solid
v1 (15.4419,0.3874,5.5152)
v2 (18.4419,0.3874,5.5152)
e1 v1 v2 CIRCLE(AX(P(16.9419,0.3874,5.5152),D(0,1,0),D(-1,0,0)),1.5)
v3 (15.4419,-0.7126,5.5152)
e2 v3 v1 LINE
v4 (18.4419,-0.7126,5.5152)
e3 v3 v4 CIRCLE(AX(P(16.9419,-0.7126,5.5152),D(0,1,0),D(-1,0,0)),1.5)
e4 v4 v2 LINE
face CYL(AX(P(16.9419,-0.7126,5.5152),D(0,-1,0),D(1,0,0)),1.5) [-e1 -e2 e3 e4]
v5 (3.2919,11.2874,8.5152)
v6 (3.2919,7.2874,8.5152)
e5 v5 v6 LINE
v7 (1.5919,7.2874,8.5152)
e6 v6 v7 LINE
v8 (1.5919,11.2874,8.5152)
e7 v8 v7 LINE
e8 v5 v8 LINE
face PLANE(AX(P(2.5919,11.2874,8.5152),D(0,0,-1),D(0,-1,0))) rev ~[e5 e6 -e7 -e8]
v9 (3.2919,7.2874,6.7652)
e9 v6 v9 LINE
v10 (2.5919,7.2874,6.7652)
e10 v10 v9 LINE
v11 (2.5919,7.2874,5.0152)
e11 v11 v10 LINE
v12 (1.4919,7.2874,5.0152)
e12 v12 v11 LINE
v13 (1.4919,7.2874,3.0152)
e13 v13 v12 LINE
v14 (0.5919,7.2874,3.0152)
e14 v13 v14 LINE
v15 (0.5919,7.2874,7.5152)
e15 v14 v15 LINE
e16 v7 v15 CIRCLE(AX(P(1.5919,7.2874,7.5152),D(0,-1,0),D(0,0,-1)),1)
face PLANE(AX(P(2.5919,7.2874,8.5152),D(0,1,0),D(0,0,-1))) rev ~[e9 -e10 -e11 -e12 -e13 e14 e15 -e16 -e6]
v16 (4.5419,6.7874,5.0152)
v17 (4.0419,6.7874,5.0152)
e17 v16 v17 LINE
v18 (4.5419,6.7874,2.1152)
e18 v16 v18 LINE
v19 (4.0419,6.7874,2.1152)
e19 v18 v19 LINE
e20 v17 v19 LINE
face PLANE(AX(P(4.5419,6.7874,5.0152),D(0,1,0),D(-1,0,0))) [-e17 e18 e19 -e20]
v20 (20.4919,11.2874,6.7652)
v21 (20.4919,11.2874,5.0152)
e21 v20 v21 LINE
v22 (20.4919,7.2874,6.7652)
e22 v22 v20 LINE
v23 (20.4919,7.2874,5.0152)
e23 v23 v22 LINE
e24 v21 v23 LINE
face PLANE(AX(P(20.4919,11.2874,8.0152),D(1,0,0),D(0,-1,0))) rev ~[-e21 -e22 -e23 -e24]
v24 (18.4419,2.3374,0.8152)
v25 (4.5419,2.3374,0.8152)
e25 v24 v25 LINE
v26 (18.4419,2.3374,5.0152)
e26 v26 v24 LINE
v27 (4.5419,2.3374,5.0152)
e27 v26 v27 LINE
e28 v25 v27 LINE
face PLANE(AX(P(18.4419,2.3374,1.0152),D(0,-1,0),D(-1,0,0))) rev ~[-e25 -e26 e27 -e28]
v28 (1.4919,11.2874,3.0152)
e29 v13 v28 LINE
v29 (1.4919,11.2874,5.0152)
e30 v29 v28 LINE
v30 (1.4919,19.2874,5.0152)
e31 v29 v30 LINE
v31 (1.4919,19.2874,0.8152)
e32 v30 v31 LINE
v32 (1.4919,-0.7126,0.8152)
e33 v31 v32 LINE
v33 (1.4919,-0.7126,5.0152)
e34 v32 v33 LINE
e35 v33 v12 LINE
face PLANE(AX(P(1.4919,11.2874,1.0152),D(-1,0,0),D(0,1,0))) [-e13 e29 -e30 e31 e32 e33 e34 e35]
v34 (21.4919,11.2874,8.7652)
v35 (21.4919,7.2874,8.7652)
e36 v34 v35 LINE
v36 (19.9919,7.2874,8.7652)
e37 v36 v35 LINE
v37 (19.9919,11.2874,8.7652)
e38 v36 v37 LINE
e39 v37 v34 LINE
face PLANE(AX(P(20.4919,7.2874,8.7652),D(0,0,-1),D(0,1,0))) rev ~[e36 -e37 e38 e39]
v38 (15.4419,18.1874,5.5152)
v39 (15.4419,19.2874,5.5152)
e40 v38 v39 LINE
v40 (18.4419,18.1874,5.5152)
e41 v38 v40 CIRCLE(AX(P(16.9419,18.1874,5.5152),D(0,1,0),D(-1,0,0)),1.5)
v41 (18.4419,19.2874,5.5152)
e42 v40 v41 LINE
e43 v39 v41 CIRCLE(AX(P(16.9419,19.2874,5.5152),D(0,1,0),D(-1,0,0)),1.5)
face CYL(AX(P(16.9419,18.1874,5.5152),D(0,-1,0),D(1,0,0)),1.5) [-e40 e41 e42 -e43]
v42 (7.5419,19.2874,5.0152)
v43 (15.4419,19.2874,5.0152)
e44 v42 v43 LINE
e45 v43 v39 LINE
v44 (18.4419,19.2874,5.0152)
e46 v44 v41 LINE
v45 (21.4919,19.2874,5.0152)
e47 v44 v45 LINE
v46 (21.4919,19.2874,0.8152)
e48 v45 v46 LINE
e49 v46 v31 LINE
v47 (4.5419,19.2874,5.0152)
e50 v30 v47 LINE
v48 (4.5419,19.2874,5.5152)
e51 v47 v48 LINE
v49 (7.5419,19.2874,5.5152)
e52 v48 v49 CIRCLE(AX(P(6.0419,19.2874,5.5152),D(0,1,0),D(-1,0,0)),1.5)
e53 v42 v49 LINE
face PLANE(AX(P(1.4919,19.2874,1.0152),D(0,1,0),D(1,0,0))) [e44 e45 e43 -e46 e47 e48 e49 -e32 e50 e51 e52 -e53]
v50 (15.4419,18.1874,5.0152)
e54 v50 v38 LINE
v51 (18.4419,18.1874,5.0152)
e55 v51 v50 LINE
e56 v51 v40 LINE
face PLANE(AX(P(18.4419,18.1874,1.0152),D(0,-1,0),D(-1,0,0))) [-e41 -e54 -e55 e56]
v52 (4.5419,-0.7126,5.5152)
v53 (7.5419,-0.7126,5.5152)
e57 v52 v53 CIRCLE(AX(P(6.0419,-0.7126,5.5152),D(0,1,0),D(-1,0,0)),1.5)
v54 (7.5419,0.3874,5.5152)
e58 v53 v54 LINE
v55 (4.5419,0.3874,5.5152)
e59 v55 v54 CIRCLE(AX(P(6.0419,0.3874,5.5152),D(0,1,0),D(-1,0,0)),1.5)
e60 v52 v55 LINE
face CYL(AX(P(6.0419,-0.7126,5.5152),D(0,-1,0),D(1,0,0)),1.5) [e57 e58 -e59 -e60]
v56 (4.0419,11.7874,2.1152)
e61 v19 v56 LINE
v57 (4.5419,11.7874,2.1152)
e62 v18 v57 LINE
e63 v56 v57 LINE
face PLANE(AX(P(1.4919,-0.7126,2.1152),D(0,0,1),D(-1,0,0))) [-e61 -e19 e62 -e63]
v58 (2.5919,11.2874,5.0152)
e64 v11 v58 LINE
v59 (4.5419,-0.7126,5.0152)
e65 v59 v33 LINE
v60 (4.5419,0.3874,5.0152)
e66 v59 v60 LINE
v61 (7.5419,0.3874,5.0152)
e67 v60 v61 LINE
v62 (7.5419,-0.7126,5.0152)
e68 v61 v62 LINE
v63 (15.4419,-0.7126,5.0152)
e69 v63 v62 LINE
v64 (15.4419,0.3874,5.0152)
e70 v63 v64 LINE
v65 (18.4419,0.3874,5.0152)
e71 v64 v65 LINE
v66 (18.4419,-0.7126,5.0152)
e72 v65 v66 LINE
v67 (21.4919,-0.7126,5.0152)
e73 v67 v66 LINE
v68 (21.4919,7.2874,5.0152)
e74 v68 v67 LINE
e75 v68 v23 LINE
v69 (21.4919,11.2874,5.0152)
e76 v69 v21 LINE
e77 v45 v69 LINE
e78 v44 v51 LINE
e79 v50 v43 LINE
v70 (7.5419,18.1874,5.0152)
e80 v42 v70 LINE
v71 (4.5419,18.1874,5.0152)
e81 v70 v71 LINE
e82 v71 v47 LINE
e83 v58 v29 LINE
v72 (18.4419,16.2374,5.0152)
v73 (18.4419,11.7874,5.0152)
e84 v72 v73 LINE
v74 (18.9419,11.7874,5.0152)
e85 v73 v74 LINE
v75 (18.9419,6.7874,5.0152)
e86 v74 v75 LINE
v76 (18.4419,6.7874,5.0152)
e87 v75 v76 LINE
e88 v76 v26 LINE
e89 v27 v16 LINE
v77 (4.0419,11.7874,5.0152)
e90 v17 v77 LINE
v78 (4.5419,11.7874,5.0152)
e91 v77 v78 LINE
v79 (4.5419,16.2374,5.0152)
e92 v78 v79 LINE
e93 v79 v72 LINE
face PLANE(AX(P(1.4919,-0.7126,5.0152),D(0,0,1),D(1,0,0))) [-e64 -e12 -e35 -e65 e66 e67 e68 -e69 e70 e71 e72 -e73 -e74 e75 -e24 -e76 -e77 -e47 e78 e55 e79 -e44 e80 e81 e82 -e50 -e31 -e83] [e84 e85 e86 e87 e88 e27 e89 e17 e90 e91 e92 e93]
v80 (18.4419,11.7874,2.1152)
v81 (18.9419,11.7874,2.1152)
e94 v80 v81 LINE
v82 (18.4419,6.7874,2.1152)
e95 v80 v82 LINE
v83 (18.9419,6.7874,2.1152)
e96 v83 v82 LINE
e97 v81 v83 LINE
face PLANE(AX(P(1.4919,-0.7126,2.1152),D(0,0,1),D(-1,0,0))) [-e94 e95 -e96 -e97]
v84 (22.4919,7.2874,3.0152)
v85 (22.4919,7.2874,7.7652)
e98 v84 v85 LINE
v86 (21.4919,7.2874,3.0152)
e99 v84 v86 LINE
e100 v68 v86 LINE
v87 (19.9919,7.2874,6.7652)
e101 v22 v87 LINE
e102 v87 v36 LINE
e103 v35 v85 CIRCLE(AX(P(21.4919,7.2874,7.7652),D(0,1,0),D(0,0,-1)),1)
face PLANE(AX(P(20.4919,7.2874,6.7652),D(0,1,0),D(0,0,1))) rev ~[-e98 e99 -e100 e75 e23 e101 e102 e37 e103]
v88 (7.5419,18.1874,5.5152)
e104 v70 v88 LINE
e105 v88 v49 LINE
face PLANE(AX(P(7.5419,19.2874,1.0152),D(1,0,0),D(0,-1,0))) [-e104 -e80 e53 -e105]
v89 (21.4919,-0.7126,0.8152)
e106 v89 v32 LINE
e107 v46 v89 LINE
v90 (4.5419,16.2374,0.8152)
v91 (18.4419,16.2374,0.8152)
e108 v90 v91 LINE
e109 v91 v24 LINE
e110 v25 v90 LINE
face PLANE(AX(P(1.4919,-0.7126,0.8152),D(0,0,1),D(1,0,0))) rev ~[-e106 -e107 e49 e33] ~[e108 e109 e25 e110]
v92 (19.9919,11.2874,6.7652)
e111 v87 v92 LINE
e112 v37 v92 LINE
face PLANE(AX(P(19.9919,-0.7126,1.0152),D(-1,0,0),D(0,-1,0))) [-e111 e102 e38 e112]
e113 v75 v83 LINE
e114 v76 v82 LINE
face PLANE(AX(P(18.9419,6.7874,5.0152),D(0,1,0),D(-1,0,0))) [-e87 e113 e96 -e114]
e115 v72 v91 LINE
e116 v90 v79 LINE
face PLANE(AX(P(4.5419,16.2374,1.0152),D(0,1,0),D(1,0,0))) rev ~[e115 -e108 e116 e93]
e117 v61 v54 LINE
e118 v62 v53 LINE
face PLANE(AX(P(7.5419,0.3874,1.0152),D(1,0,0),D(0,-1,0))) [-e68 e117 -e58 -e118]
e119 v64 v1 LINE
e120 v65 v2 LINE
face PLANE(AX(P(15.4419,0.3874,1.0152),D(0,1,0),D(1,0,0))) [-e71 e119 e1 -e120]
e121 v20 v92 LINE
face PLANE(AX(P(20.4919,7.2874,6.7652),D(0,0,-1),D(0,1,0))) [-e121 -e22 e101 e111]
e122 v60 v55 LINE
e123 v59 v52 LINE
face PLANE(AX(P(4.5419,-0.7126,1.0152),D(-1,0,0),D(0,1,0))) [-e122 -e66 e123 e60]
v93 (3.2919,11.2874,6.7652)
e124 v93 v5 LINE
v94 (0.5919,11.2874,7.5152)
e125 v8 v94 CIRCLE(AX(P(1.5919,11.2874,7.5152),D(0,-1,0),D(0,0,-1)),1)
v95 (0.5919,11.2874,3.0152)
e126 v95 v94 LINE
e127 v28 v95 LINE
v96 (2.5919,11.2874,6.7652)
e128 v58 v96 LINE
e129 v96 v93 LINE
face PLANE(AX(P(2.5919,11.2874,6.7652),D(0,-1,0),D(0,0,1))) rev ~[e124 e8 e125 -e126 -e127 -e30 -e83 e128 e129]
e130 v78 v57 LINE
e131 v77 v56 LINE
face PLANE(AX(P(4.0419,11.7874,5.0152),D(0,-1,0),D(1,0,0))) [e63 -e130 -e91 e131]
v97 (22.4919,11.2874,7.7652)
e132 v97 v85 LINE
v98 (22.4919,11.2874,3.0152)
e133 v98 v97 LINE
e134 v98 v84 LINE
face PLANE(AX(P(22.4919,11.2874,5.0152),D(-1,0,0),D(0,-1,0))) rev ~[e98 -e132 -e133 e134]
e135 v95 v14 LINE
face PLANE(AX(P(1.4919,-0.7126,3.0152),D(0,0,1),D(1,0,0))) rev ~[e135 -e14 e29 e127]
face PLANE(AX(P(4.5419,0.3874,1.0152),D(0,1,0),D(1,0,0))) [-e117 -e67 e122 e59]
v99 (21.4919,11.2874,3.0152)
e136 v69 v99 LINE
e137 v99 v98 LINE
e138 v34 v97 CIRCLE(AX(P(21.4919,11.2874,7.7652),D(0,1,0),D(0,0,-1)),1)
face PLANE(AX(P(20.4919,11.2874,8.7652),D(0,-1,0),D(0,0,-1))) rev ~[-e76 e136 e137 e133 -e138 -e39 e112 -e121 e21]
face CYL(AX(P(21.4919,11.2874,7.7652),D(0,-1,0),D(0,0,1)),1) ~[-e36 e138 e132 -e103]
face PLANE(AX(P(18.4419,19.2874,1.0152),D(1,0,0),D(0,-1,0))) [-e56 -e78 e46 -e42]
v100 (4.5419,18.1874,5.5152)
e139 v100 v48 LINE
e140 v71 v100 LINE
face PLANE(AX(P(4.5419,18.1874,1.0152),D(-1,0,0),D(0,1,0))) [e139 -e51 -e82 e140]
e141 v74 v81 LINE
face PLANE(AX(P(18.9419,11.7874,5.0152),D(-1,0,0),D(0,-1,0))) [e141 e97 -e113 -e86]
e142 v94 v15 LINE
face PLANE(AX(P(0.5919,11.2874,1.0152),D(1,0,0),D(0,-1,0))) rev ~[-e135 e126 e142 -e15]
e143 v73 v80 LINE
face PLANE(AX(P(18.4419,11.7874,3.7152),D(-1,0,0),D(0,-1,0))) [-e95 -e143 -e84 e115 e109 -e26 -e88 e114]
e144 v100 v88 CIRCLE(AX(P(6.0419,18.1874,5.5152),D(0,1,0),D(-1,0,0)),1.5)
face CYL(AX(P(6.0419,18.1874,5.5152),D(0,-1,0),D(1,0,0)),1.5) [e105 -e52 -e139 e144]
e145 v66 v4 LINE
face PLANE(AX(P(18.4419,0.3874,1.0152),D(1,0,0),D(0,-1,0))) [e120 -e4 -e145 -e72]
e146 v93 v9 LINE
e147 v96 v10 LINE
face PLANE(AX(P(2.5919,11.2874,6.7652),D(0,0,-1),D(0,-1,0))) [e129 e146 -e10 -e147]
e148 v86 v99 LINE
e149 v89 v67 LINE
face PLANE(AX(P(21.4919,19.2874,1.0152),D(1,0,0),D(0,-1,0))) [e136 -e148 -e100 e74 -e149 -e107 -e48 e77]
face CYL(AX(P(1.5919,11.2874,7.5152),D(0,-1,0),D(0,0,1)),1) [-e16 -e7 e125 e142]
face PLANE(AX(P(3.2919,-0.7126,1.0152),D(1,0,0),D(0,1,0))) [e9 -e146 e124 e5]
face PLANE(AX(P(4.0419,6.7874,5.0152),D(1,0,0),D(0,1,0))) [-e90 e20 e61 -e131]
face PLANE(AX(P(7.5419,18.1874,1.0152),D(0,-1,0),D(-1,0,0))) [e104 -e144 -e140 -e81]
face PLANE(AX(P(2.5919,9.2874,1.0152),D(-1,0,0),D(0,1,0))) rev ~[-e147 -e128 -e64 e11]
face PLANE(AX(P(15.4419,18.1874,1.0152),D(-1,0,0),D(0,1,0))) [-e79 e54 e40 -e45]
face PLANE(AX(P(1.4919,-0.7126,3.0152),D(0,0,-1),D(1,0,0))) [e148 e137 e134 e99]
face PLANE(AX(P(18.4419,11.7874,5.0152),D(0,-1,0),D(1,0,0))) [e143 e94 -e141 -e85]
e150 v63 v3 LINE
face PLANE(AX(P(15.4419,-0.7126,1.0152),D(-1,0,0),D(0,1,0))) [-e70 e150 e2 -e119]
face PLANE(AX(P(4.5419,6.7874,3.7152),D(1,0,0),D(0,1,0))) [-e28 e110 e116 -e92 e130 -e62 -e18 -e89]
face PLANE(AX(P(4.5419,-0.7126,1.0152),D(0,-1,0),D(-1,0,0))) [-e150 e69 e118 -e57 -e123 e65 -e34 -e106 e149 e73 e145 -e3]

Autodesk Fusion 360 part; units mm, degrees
sketch "Sketch1" plane through (0, 0, 0) normal (0, 0, 1) x (1, 0, 0) in component "main-switchbody"
  line L0 (0, 0) -> (0, 20) construction
  line L1 (0, 20) -> (20, 20) construction
  line L2 (20, 20) -> (20, 0) construction
  line L3 (20, 0) -> (0, 0) construction
  line L4 (0, 0) -> (20, 20) construction
  line L5 (20, 0) -> (0, 20) construction
  line L6 (10, 0) -> (18.9, 0) construction
  line L7 (10, 10) -> (18.9, 10) construction
  line L8 (18.9, 10) -> (18.9, 18.9) construction
  line L9 (18.9, 18.9) -> (1.1, 18.9) construction
  line L10 (1.1, 18.9) -> (1.1, 1.1) construction
  line L11 (1.1, 1.1) -> (18.9, 1.1) construction
  line L12 (18.9, 1.1) -> (18.9, 18.9) construction
  line L13 (10, 10) -> (3.05, 10) construction
  line L14 (3.05, 10) -> (3.05, 16.95) construction
  line L15 (3.05, 16.95) -> (16.95, 16.95) construction
  line L16 (16.95, 16.95) -> (16.95, 3.05) construction
  line L17 (16.95, 3.05) -> (3.05, 3.05) construction
  line L18 (3.05, 3.05) -> (3.05, 16.95) construction
  line L19 (3.05, 3.05) -> (0, 3.05) construction
  line L20 (3.05, 3.05) -> (3.05, 0) construction
  line L21 (16.95, 3.05) -> (20, 3.05) construction
  line L22 (16.95, 16.95) -> (20, 16.95) construction
  line L23 (16.95, 16.95) -> (16.95, 20) construction
  line L24 (3.05, 16.95) -> (3.05, 20) construction
  line L25 (3.05, 16.95) -> (0, 16.95) construction
  line L26 (3.05, 18.9) -> (6.05, 18.9) construction
  line L27 (6.05, 18.9) -> (6.05, 20) construction
  line L28 (16.95, 18.9) -> (13.95, 18.9) construction
  line L29 (13.95, 18.9) -> (13.95, 20) construction
  line L30 (16.95, 3.05) -> (16.95, 0) construction
  line L31 (16.95, 1.1) -> (13.95, 1.1) construction
  line L32 (13.95, 1.1) -> (13.95, 0) construction
  line L33 (3.05, 1.1) -> (6.05, 1.1) construction
  line L34 (6.05, 1.1) -> (6.05, 0) construction
  line L35 (0, 20) -> (20, 20) construction
  line L36 (20, 20) -> (20, 0) construction
  line L37 (20, 0) -> (0, 0) construction
  line L38 (0, 0) -> (0, 20) construction
  line L39 (0, 20) -> (20, 20)
  line L40 (20, 20) -> (20, 0)
  line L41 (20, 0) -> (0, 0)
  line L42 (0, 0) -> (0, 20)
  line L43 (16.95, 3.05) -> (3.05, 3.05)
  line L44 (3.05, 3.05) -> (3.05, 16.95)
  line L45 (3.05, 16.95) -> (16.95, 16.95)
  line L46 (16.95, 16.95) -> (16.95, 3.05)
  line L47 (3.05, 1.1) -> (6.05, 1.1)
  line L48 (6.05, 1.1) -> (6.05, 0)
  line L49 (6.05, 0) -> (3.05, 0)
  line L50 (3.05, 0) -> (3.05, 1.1)
  line L51 (13.95, 1.1) -> (16.95, 1.1)
  line L52 (16.95, 1.1) -> (16.95, 0)
  line L53 (16.95, 0) -> (13.95, 0)
  line L54 (13.95, 0) -> (13.95, 1.1)
  line L55 (13.95, 20) -> (16.95, 20)
  line L56 (16.95, 20) -> (16.95, 18.9)
  line L57 (16.95, 18.9) -> (13.95, 18.9)
  line L58 (13.95, 18.9) -> (13.95, 20)
  line L59 (3.05, 20) -> (6.05, 20)
  line L60 (6.05, 20) -> (6.05, 18.9)
  line L61 (6.05, 18.9) -> (3.05, 18.9)
  line L62 (3.05, 18.9) -> (3.05, 20)
  line L63 (1.1, 10) -> (1.1, 12)
  line L64 (1.1, 10) -> (1.1, 8)
  line L65 (1.1, 8) -> (-1.9, 8)
  line L66 (-1.9, 8) -> (1.1, 8)
  line L67 (1.1, 8) -> (1.1, 12)
  line L68 (1.1, 12) -> (-1.9, 12)
  line L69 (-1.9, 12) -> (-1.9, 8)
  line L70 (3.05, 10) -> (3.05, 7.5) construction
  line L71 (3.05, 7.5) -> (2.55, 7.5) construction
  line L72 (2.55, 7.5) -> (2.55, 12.5) construction
  line L73 (2.55, 12.5) -> (3.05, 12.5085) construction
  line L74 (3.05, 12.5085) -> (3.05, 7.5) construction
  line L75 (2.55, 12.5) -> (16.95, 12.5) construction
  line L76 (16.95, 12.5) -> (17.45, 12.5) construction
  line L77 (17.45, 12.5) -> (17.45, 7.5) construction
  line L78 (17.45, 7.5) -> (16.95, 7.5) construction
  line L79 (16.95, 7.5) -> (16.95, 12.5) construction
  line L80 (17.45, 7.5) -> (16.95, 7.5)
  line L81 (16.95, 7.5) -> (16.95, 12.5)
  line L82 (16.95, 12.5) -> (17.45, 12.5)
  line L83 (17.45, 12.5) -> (17.45, 7.5)
  line L84 (3.05, 7.5) -> (2.55, 7.5)
  line L85 (2.55, 7.5) -> (2.55, 12.5)
  line L86 (2.55, 12.5) -> (3.05, 12.5)
  line L87 (3.05, 12.5) -> (3.05, 7.5)
  dimension "d1" = 20
  dimension "d2" = 20
  dimension "d3" = 8.9
  dimension "d4" = 8.9
  dimension "d5" = 8.9
  dimension "d6" = 17.8
  dimension "d7" = 17.8
  dimension "d8" = 6.95
  dimension "d9" = 6.95
  dimension "d10" = 13.9
  dimension "d11" = 13.9
  dimension "d12" = 13.9
  dimension "d13" = 3
  dimension "d14" = 3
  dimension "d15" = 3
  dimension "d16" = 3
  dimension "d21" = 3
  dimension "d58" = 2.5
  dimension "d59" = 0.5
  dimension "d60" = 5
  dimension "d61" = 0.5
  dimension "d62" = 5
extrude "Extrude3" add sketch "Sketch1" along normal blind 7.5 contours L42 L63 L64 L65 L66 L67 L68 | L42 L65 L66 L68 L69 makes body 1 in component "main-switchbody"
extrude "Extrude2" add sketch "Sketch1" along normal blind 4 separate body contours L39 L40 L41 L42 L47 L48 L50 L51 L52 L54 L56 L57 L58 L60 L61 L62 L63 L64 L65 L66 L67 L68 | L42 L63 L64 L65 L66 L67 L68 | L46 L80 L81 L82 L83 | L44 L84 L85 L86 L87 makes body 2 in component "main-switchbody"
extrude "Extrude1" add sketch "Sketch1" along normal blind 6 separate body contours L39 L59 L60 L61 L62 | L39 L55 L56 L57 L58 | L41 L47 L48 L49 L50 | L41 L51 L52 L53 L54 makes body 3 at (4.05, 1.1, 2) makes body 4 at (5.05, 20, 4) makes body 5 at (14.95, 1.1, 2) makes body 6 at (14.95, 20, 2) in component "main-switchbody"
extrude "Extrude4" cut sketch "Sketch1" along normal blind 2 contours L42 L65 L66 L68 L69 bodies 1 in component "main-switchbody"
sketch "Sketch2" plane through (1.1, 0, 0) normal (1, 0, 0) x (0, 1, 0) in component "main-switchbody"
  line L0 (8, 0) -> (12, 0)
  line L1 (12, 0) -> (12, 7.5)
  line L2 (12, 7.5) -> (8, 7.5)
  line L3 (8, 7.5) -> (8, 0)
  line L4 (8, 7.5) -> (8, 4) construction
  line L5 (8, 4) -> (12, 4) construction
  line L6 (12, 4) -> (12, 7.5) construction
  line L7 (12, 7.5) -> (8, 7.5) construction
  line L8 (8, 7.5) -> (8, 5.75) construction
  line L9 (8, 5.75) -> (12, 5.75) construction
  line L10 (8, 7.5) -> (12, 7.5)
  line L11 (12, 7.5) -> (12, 5.75)
  line L12 (12, 5.75) -> (8, 5.75)
  line L13 (8, 5.75) -> (8, 7.5)
  dimension "d26" = 1.75
extrude "Extrude5" add sketch "Sketch2" along normal blind 1 contours L1 L2 L3 L10 L11 L12 L13 bodies 1 in component "main-switchbody"
extrude "Extrude6" cut 1 faces at (-1.9, 10.6667, 3.8333) along direction (1, 0, 0) blind 1 on bodies 1 bodies 1 in component "main-switchbody"
sketch "Sketch3" plane through (0, 18.9, 0) normal (0, -1, 0) x (1, 0, 0) in component "main-switchbody"
  line L0 (3.05, 0) -> (6.05, 0)
  line L1 (6.05, 0) -> (6.05, 6)
  line L2 (6.05, 6) -> (3.05, 6)
  line L3 (3.05, 6) -> (3.05, 0)
  line L4 (3.05, 6) -> (3.05, 4) construction
  line L5 (6.05, 4) -> (6.05, 6) construction
  line L6 (3.05, 6) -> (3.05, 4.5) construction
  line L7 (6.05, 6) -> (6.05, 4.5) construction
  arc A0 (6.05, 4.5) -> (3.05, 4.5) centre (4.55, 4.5) ccw construction
  arc A1 (6.05, 4.5) -> (3.05, 4.5) centre (4.55, 4.5) ccw
  dimension "d31" = 1.5
  dimension "d32" = 1.5
extrude "Extrude7" cut sketch "Sketch3" against normal blind 1.1 contours L2 L3 A1 | L1 L2 A1 bodies 4 in component "main-switchbody"
sketch "Sketch4" plane through (0, 0, 0) normal (0, -1, 0) x (1, 0, 0) in component "main-switchbody"
  line L0 (3.05, 0) -> (6.05, 0)
  line L1 (6.05, 0) -> (6.05, 6)
  line L2 (6.05, 6) -> (3.05, 6)
  line L3 (3.05, 6) -> (3.05, 0)
  line L4 (3.05, 6) -> (3.05, 4.5) construction
  line L5 (6.05, 6) -> (6.05, 4.5) construction
  arc A0 (6.05, 4.5) -> (3.05, 4.5) centre (4.55, 4.5) ccw
extrude "Extrude8" cut sketch "Sketch4" against normal blind 1.1 contours L2 L3 A0 | L1 L2 A0 bodies 3 in component "main-switchbody"
sketch "Sketch5" plane through (0, 0, 0) normal (0, -1, 0) x (1, 0, 0) in component "main-switchbody"
  line L0 (13.95, 0) -> (16.95, 0)
  line L1 (16.95, 0) -> (16.95, 6)
  line L2 (16.95, 6) -> (13.95, 6)
  line L3 (13.95, 6) -> (13.95, 0)
  line L4 (13.95, 6) -> (13.95, 4.5) construction
  line L5 (16.95, 6) -> (16.95, 4.5) construction
  arc A0 (16.95, 4.5) -> (13.95, 4.5) centre (15.45, 4.5) ccw
extrude "Extrude9" cut sketch "Sketch5" against normal blind 1.1 contours L2 L3 A0 | L1 L2 A0 bodies 5 in component "main-switchbody"
sketch "Sketch6" plane through (0, 18.9, 0) normal (0, -1, 0) x (1, 0, 0) in component "main-switchbody"
  line L0 (13.95, 0) -> (16.95, 0)
  line L1 (16.95, 0) -> (16.95, 6)
  line L2 (16.95, 6) -> (13.95, 6)
  line L3 (13.95, 6) -> (13.95, 0)
  line L4 (13.95, 6) -> (13.95, 4.5) construction
  line L5 (16.95, 6) -> (16.95, 4.5) construction
  arc A0 (16.95, 4.5) -> (13.95, 4.5) centre (15.45, 4.5) ccw
extrude "Extrude10" cut sketch "Sketch6" against normal blind 1.1 contours L2 L3 A0 | L1 L2 A0 bodies 6 in component "main-switchbody"
sketch "Sketch7" plane through (0, 0, 4) normal (0, 0, 1) x (-1, 0, 0) in component "main-switchbody"
  line L0 (-3.05, -16.95) -> (-16.95, -16.95)
  line L1 (-16.95, -16.95) -> (-16.95, -3.05)
  line L2 (-16.95, -3.05) -> (-3.05, -3.05)
  line L3 (-3.05, -3.05) -> (-3.05, -16.95)
  line L4 (-6.05, -20) -> (-6.05, -18.9)
  line L5 (-6.05, -18.9) -> (-3.05, -18.9)
  line L6 (-3.05, -18.9) -> (-3.05, -20)
  line L7 (-3.05, -20) -> (0, -20)
  line L8 (0, -20) -> (0, 0)
  line L9 (0, 0) -> (-3.05, 0)
  line L10 (-3.05, 0) -> (-3.05, -1.1)
  line L11 (-3.05, -1.1) -> (-6.05, -1.1)
  line L12 (-6.05, -1.1) -> (-6.05, 0)
  line L13 (-6.05, 0) -> (-13.95, 0)
  line L14 (-13.95, 0) -> (-13.95, -1.1)
  line L15 (-13.95, -1.1) -> (-16.95, -1.1)
  line L16 (-16.95, -1.1) -> (-16.95, 0)
  line L17 (-16.95, 0) -> (-20, 0)
  line L18 (-20, 0) -> (-20, -20)
  line L19 (-20, -20) -> (-16.95, -20)
  line L20 (-16.95, -20) -> (-16.95, -18.9)
  line L21 (-16.95, -18.9) -> (-13.95, -18.9)
  line L22 (-13.95, -18.9) -> (-13.95, -20)
  line L23 (-13.95, -20) -> (-6.05, -20)
  line L24 (-20, -10) -> (-20, -11.5) construction
  line L25 (-20, -10) -> (-20, -8.5) construction
  line L26 (-20, -8.5) -> (-19, -8.5) construction
  line L27 (-19, -8.5) -> (-19, -11.5) construction
  line L28 (-19, -11.5) -> (-20, -11.5) construction
  line L29 (-20, -11.5) -> (-21, -11.5) construction
  line L30 (-21, -11.5) -> (-21, -8.5) construction
  line L31 (-21, -8.5) -> (-20, -8.5) construction
  line L32 (-19, -11.5) -> (-21, -11.5)
  line L33 (-21, -11.5) -> (-21, -8.5)
  line L34 (-21, -8.5) -> (-19, -8.5)
  line L35 (-19, -8.5) -> (-19, -11.5)
  dimension "d41" = 1.5
  dimension "d42" = 1
extrude "Extrude11" add sketch "Sketch7" along normal blind 3 contours L18 L32 L33 L34 | L18 L32 L34 L35 bodies 2 in component "main-switchbody"
extrude "Extrude12" add 1 faces at (20, 8.5, 6) along direction (0, -1, 0) blind 0.5 on bodies 2 bodies 2 in component "main-switchbody"
extrude "Extrude13" add 1 faces at (20, 11.5, 6) along direction (0, 1, 0) blind 0.5 on bodies 2 bodies 2 in component "main-switchbody"
extrude "Extrude14" add 1 faces at (19.6667, 9.3333, 7) along direction (0, 0, 1) blind 0.75 on bodies 2 bodies 2 in component "main-switchbody"
sketch "Sketch8" plane through (0, 0, 4) normal (0, 0, -1) x (1, 0, 0) in component "main-switchbody"
  line L0 (20, -8) -> (20, -12)
  line L1 (20, -12) -> (21, -12)
  line L2 (21, -12) -> (21, -8)
  line L3 (21, -8) -> (20, -8)
  line L4 (20, -12) -> (20, -8)
extrude "Extrude15" add sketch "Sketch8" along normal blind 2 bodies 2 in component "main-switchbody"
sketch "Sketch9" plane through (19, 0, 0) normal (-1, 0, 0) x (0, -1, 0) in component "main-switchbody"
  line L0 (-12, 4) -> (-8, 4)
  line L1 (-8, 4) -> (-8, 7.75)
  line L2 (-8, 7.75) -> (-12, 7.75)
  line L3 (-12, 7.75) -> (-12, 4)
  line L4 (-12, 7.75) -> (-12, 5.75) construction
  line L5 (-12, 5.75) -> (-8, 5.75) construction
  line L6 (-12, 7.75) -> (-8, 7.75)
  line L7 (-8, 7.75) -> (-8, 5.75)
  line L8 (-8, 5.75) -> (-12, 5.75)
  line L9 (-12, 5.75) -> (-12, 7.75)
  dimension "d53" = 2
extrude "Extrude16" add sketch "Sketch9" along normal blind 0.5 contours L1 L2 L3 L6 L7 L8 L9 bodies 2 in component "main-switchbody"
extrude "Extrude17" cut 1 faces at (2.1, 9.3333, 6.9167) along direction (-1, 0, 0) blind 0.3 on bodies 1 bodies 1 in component "main-switchbody"
extrude "Extrude18" cut sketch "Sketch1" along normal blind 2.7 contours L44 L84 L85 L86 L87 bodies 2 in component "main-switchbody"
extrude "Extrude19" cut sketch "Sketch1" along normal blind 2.7 contours L46 L80 L81 L82 L83 bodies 2 in component "main-switchbody"
extrude "Extrude20" add sketch "Sketch1" against normal blind 0.2 contours L39 L40 L41 L42 L47 L48 L50 L51 L52 L54 L56 L57 L58 L60 L61 L62 L63 L64 L65 L66 L67 L68 | L39 L59 L60 L61 L62 | L42 L63 L64 L65 L66 L67 L68 | L39 L55 L56 L57 L58 | L41 L47 L48 L49 L50 | L41 L51 L52 L53 L54 bodies 1 2 3 4 5 6 in component "main-switchbody"
fillet "Fillet1" radius 1 2 edges at (21, 10, 7.75) (-0.9, 10, 7.5) on bodies 1 in component "main-switchbody"
extrude "Extrude21" add 1 faces at (2.8833, 9.1667, 2.7) along direction (0, 0, -1) blind 2.9 on bodies 1 bodies 1 in component "main-switchbody"
extrude "Extrude22" add 1 faces at (17.1167, 10.8333, 2.7) along direction (0, 0, -1) blind 2.9 on bodies 1 bodies 1 in component "main-switchbody"
sketch "Sketch10" plane through (0, 0, 4) normal (0, 0, 1) x (-1, 0, 0) in component "main-switchbody"
  line L0 (-3.05, -16.95) -> (-16.95, -16.95)
  line L1 (-16.95, -16.95) -> (-16.95, -3.05)
  line L2 (-16.95, -3.05) -> (-3.05, -3.05)
  line L3 (-3.05, -3.05) -> (-3.05, -16.95)
  line L4 (0, -12) -> (-1.1, -12)
  line L5 (-1.1, -12) -> (-1.1, -8)
  line L6 (-1.1, -8) -> (0, -8)
  line L7 (0, -8) -> (0, 0)
  line L8 (0, 0) -> (-3.05, 0)
  line L9 (-3.05, 0) -> (-3.05, -1.1)
  line L10 (-3.05, -1.1) -> (-6.05, -1.1)
  line L11 (-6.05, -1.1) -> (-6.05, 0)
  line L12 (-6.05, 0) -> (-13.95, 0)
  line L13 (-13.95, 0) -> (-13.95, -1.1)
  line L14 (-13.95, -1.1) -> (-16.95, -1.1)
  line L15 (-16.95, -1.1) -> (-16.95, 0)
  line L16 (-16.95, 0) -> (-20, 0)
  line L17 (-20, 0) -> (-20, -8)
  line L18 (-20, -8) -> (-19, -8)
  line L19 (-19, -8) -> (-19, -12)
  line L20 (-19, -12) -> (-20, -12)
  line L21 (-20, -12) -> (-20, -20)
  line L22 (-20, -20) -> (-16.95, -20)
  line L23 (-16.95, -20) -> (-16.95, -18.9)
  line L24 (-16.95, -18.9) -> (-13.95, -18.9)
  line L25 (-13.95, -18.9) -> (-13.95, -20)
  line L26 (-13.95, -20) -> (-6.05, -20)
  line L27 (-6.05, -20) -> (-6.05, -18.9)
  line L28 (-6.05, -18.9) -> (-3.05, -18.9)
  line L29 (-3.05, -18.9) -> (-3.05, -20)
  line L30 (-3.05, -20) -> (0, -20)
  line L31 (0, -20) -> (0, -12)
  line L32 (-3.05, -10) -> (-3.05, -12.5) construction
  line L33 (-3.05, -12.5) -> (-3.05, -7.5) construction
  line L34 (-3.05, -7.5) -> (-2.55, -7.5) construction
  line L35 (-2.55, -7.5) -> (-3.05, -7.5) construction
  line L36 (-3.05, -7.5) -> (-3.05, -12.5) construction
  line L37 (-3.05, -12.5) -> (-2.55, -12.5) construction
  line L38 (-2.55, -12.5) -> (-2.55, -7.5) construction
  line L39 (-3.05, -12.5) -> (-16.95, -12.5) construction
  line L40 (-16.95, -12.5) -> (-16.95, -7.5) construction
  line L41 (-16.95, -7.5) -> (-17.45, -7.5) construction
  line L42 (-17.45, -7.5) -> (-16.95, -7.5) construction
  line L43 (-16.95, -7.5) -> (-16.95, -12.5) construction
  line L44 (-16.95, -12.5) -> (-17.45, -12.5) construction
  line L45 (-17.45, -12.5) -> (-17.45, -7.5) construction
  line L46 (-16.95, -12.5) -> (-17.45, -12.5)
  line L47 (-17.45, -12.5) -> (-17.45, -7.5)
  line L48 (-17.45, -7.5) -> (-16.95, -7.5)
  line L49 (-16.95, -7.5) -> (-16.95, -12.5)
  line L50 (-2.55, -12.5) -> (-3.05, -12.5)
  line L51 (-3.05, -12.5) -> (-3.05, -7.5)
  line L52 (-3.05, -7.5) -> (-2.55, -7.5)
  line L53 (-2.55, -7.5) -> (-2.55, -12.5)
  dimension "d75" = 5
  dimension "d76" = 0.5
  dimension "d77" = 0.5
extrude "Extrude23" cut sketch "Sketch10" against normal blind 2.9 contours L3 L50 L51 L52 L53 | L1 L46 L47 L48 L49 bodies 1 in component "main-switchbody"
component "main-switchbody" placed x (1, 0, 0) y (0, 1, 0) z (0, 0, 1) at (1.4919, -0.7126, 1.0152)
properties part number "mxledbit container"
